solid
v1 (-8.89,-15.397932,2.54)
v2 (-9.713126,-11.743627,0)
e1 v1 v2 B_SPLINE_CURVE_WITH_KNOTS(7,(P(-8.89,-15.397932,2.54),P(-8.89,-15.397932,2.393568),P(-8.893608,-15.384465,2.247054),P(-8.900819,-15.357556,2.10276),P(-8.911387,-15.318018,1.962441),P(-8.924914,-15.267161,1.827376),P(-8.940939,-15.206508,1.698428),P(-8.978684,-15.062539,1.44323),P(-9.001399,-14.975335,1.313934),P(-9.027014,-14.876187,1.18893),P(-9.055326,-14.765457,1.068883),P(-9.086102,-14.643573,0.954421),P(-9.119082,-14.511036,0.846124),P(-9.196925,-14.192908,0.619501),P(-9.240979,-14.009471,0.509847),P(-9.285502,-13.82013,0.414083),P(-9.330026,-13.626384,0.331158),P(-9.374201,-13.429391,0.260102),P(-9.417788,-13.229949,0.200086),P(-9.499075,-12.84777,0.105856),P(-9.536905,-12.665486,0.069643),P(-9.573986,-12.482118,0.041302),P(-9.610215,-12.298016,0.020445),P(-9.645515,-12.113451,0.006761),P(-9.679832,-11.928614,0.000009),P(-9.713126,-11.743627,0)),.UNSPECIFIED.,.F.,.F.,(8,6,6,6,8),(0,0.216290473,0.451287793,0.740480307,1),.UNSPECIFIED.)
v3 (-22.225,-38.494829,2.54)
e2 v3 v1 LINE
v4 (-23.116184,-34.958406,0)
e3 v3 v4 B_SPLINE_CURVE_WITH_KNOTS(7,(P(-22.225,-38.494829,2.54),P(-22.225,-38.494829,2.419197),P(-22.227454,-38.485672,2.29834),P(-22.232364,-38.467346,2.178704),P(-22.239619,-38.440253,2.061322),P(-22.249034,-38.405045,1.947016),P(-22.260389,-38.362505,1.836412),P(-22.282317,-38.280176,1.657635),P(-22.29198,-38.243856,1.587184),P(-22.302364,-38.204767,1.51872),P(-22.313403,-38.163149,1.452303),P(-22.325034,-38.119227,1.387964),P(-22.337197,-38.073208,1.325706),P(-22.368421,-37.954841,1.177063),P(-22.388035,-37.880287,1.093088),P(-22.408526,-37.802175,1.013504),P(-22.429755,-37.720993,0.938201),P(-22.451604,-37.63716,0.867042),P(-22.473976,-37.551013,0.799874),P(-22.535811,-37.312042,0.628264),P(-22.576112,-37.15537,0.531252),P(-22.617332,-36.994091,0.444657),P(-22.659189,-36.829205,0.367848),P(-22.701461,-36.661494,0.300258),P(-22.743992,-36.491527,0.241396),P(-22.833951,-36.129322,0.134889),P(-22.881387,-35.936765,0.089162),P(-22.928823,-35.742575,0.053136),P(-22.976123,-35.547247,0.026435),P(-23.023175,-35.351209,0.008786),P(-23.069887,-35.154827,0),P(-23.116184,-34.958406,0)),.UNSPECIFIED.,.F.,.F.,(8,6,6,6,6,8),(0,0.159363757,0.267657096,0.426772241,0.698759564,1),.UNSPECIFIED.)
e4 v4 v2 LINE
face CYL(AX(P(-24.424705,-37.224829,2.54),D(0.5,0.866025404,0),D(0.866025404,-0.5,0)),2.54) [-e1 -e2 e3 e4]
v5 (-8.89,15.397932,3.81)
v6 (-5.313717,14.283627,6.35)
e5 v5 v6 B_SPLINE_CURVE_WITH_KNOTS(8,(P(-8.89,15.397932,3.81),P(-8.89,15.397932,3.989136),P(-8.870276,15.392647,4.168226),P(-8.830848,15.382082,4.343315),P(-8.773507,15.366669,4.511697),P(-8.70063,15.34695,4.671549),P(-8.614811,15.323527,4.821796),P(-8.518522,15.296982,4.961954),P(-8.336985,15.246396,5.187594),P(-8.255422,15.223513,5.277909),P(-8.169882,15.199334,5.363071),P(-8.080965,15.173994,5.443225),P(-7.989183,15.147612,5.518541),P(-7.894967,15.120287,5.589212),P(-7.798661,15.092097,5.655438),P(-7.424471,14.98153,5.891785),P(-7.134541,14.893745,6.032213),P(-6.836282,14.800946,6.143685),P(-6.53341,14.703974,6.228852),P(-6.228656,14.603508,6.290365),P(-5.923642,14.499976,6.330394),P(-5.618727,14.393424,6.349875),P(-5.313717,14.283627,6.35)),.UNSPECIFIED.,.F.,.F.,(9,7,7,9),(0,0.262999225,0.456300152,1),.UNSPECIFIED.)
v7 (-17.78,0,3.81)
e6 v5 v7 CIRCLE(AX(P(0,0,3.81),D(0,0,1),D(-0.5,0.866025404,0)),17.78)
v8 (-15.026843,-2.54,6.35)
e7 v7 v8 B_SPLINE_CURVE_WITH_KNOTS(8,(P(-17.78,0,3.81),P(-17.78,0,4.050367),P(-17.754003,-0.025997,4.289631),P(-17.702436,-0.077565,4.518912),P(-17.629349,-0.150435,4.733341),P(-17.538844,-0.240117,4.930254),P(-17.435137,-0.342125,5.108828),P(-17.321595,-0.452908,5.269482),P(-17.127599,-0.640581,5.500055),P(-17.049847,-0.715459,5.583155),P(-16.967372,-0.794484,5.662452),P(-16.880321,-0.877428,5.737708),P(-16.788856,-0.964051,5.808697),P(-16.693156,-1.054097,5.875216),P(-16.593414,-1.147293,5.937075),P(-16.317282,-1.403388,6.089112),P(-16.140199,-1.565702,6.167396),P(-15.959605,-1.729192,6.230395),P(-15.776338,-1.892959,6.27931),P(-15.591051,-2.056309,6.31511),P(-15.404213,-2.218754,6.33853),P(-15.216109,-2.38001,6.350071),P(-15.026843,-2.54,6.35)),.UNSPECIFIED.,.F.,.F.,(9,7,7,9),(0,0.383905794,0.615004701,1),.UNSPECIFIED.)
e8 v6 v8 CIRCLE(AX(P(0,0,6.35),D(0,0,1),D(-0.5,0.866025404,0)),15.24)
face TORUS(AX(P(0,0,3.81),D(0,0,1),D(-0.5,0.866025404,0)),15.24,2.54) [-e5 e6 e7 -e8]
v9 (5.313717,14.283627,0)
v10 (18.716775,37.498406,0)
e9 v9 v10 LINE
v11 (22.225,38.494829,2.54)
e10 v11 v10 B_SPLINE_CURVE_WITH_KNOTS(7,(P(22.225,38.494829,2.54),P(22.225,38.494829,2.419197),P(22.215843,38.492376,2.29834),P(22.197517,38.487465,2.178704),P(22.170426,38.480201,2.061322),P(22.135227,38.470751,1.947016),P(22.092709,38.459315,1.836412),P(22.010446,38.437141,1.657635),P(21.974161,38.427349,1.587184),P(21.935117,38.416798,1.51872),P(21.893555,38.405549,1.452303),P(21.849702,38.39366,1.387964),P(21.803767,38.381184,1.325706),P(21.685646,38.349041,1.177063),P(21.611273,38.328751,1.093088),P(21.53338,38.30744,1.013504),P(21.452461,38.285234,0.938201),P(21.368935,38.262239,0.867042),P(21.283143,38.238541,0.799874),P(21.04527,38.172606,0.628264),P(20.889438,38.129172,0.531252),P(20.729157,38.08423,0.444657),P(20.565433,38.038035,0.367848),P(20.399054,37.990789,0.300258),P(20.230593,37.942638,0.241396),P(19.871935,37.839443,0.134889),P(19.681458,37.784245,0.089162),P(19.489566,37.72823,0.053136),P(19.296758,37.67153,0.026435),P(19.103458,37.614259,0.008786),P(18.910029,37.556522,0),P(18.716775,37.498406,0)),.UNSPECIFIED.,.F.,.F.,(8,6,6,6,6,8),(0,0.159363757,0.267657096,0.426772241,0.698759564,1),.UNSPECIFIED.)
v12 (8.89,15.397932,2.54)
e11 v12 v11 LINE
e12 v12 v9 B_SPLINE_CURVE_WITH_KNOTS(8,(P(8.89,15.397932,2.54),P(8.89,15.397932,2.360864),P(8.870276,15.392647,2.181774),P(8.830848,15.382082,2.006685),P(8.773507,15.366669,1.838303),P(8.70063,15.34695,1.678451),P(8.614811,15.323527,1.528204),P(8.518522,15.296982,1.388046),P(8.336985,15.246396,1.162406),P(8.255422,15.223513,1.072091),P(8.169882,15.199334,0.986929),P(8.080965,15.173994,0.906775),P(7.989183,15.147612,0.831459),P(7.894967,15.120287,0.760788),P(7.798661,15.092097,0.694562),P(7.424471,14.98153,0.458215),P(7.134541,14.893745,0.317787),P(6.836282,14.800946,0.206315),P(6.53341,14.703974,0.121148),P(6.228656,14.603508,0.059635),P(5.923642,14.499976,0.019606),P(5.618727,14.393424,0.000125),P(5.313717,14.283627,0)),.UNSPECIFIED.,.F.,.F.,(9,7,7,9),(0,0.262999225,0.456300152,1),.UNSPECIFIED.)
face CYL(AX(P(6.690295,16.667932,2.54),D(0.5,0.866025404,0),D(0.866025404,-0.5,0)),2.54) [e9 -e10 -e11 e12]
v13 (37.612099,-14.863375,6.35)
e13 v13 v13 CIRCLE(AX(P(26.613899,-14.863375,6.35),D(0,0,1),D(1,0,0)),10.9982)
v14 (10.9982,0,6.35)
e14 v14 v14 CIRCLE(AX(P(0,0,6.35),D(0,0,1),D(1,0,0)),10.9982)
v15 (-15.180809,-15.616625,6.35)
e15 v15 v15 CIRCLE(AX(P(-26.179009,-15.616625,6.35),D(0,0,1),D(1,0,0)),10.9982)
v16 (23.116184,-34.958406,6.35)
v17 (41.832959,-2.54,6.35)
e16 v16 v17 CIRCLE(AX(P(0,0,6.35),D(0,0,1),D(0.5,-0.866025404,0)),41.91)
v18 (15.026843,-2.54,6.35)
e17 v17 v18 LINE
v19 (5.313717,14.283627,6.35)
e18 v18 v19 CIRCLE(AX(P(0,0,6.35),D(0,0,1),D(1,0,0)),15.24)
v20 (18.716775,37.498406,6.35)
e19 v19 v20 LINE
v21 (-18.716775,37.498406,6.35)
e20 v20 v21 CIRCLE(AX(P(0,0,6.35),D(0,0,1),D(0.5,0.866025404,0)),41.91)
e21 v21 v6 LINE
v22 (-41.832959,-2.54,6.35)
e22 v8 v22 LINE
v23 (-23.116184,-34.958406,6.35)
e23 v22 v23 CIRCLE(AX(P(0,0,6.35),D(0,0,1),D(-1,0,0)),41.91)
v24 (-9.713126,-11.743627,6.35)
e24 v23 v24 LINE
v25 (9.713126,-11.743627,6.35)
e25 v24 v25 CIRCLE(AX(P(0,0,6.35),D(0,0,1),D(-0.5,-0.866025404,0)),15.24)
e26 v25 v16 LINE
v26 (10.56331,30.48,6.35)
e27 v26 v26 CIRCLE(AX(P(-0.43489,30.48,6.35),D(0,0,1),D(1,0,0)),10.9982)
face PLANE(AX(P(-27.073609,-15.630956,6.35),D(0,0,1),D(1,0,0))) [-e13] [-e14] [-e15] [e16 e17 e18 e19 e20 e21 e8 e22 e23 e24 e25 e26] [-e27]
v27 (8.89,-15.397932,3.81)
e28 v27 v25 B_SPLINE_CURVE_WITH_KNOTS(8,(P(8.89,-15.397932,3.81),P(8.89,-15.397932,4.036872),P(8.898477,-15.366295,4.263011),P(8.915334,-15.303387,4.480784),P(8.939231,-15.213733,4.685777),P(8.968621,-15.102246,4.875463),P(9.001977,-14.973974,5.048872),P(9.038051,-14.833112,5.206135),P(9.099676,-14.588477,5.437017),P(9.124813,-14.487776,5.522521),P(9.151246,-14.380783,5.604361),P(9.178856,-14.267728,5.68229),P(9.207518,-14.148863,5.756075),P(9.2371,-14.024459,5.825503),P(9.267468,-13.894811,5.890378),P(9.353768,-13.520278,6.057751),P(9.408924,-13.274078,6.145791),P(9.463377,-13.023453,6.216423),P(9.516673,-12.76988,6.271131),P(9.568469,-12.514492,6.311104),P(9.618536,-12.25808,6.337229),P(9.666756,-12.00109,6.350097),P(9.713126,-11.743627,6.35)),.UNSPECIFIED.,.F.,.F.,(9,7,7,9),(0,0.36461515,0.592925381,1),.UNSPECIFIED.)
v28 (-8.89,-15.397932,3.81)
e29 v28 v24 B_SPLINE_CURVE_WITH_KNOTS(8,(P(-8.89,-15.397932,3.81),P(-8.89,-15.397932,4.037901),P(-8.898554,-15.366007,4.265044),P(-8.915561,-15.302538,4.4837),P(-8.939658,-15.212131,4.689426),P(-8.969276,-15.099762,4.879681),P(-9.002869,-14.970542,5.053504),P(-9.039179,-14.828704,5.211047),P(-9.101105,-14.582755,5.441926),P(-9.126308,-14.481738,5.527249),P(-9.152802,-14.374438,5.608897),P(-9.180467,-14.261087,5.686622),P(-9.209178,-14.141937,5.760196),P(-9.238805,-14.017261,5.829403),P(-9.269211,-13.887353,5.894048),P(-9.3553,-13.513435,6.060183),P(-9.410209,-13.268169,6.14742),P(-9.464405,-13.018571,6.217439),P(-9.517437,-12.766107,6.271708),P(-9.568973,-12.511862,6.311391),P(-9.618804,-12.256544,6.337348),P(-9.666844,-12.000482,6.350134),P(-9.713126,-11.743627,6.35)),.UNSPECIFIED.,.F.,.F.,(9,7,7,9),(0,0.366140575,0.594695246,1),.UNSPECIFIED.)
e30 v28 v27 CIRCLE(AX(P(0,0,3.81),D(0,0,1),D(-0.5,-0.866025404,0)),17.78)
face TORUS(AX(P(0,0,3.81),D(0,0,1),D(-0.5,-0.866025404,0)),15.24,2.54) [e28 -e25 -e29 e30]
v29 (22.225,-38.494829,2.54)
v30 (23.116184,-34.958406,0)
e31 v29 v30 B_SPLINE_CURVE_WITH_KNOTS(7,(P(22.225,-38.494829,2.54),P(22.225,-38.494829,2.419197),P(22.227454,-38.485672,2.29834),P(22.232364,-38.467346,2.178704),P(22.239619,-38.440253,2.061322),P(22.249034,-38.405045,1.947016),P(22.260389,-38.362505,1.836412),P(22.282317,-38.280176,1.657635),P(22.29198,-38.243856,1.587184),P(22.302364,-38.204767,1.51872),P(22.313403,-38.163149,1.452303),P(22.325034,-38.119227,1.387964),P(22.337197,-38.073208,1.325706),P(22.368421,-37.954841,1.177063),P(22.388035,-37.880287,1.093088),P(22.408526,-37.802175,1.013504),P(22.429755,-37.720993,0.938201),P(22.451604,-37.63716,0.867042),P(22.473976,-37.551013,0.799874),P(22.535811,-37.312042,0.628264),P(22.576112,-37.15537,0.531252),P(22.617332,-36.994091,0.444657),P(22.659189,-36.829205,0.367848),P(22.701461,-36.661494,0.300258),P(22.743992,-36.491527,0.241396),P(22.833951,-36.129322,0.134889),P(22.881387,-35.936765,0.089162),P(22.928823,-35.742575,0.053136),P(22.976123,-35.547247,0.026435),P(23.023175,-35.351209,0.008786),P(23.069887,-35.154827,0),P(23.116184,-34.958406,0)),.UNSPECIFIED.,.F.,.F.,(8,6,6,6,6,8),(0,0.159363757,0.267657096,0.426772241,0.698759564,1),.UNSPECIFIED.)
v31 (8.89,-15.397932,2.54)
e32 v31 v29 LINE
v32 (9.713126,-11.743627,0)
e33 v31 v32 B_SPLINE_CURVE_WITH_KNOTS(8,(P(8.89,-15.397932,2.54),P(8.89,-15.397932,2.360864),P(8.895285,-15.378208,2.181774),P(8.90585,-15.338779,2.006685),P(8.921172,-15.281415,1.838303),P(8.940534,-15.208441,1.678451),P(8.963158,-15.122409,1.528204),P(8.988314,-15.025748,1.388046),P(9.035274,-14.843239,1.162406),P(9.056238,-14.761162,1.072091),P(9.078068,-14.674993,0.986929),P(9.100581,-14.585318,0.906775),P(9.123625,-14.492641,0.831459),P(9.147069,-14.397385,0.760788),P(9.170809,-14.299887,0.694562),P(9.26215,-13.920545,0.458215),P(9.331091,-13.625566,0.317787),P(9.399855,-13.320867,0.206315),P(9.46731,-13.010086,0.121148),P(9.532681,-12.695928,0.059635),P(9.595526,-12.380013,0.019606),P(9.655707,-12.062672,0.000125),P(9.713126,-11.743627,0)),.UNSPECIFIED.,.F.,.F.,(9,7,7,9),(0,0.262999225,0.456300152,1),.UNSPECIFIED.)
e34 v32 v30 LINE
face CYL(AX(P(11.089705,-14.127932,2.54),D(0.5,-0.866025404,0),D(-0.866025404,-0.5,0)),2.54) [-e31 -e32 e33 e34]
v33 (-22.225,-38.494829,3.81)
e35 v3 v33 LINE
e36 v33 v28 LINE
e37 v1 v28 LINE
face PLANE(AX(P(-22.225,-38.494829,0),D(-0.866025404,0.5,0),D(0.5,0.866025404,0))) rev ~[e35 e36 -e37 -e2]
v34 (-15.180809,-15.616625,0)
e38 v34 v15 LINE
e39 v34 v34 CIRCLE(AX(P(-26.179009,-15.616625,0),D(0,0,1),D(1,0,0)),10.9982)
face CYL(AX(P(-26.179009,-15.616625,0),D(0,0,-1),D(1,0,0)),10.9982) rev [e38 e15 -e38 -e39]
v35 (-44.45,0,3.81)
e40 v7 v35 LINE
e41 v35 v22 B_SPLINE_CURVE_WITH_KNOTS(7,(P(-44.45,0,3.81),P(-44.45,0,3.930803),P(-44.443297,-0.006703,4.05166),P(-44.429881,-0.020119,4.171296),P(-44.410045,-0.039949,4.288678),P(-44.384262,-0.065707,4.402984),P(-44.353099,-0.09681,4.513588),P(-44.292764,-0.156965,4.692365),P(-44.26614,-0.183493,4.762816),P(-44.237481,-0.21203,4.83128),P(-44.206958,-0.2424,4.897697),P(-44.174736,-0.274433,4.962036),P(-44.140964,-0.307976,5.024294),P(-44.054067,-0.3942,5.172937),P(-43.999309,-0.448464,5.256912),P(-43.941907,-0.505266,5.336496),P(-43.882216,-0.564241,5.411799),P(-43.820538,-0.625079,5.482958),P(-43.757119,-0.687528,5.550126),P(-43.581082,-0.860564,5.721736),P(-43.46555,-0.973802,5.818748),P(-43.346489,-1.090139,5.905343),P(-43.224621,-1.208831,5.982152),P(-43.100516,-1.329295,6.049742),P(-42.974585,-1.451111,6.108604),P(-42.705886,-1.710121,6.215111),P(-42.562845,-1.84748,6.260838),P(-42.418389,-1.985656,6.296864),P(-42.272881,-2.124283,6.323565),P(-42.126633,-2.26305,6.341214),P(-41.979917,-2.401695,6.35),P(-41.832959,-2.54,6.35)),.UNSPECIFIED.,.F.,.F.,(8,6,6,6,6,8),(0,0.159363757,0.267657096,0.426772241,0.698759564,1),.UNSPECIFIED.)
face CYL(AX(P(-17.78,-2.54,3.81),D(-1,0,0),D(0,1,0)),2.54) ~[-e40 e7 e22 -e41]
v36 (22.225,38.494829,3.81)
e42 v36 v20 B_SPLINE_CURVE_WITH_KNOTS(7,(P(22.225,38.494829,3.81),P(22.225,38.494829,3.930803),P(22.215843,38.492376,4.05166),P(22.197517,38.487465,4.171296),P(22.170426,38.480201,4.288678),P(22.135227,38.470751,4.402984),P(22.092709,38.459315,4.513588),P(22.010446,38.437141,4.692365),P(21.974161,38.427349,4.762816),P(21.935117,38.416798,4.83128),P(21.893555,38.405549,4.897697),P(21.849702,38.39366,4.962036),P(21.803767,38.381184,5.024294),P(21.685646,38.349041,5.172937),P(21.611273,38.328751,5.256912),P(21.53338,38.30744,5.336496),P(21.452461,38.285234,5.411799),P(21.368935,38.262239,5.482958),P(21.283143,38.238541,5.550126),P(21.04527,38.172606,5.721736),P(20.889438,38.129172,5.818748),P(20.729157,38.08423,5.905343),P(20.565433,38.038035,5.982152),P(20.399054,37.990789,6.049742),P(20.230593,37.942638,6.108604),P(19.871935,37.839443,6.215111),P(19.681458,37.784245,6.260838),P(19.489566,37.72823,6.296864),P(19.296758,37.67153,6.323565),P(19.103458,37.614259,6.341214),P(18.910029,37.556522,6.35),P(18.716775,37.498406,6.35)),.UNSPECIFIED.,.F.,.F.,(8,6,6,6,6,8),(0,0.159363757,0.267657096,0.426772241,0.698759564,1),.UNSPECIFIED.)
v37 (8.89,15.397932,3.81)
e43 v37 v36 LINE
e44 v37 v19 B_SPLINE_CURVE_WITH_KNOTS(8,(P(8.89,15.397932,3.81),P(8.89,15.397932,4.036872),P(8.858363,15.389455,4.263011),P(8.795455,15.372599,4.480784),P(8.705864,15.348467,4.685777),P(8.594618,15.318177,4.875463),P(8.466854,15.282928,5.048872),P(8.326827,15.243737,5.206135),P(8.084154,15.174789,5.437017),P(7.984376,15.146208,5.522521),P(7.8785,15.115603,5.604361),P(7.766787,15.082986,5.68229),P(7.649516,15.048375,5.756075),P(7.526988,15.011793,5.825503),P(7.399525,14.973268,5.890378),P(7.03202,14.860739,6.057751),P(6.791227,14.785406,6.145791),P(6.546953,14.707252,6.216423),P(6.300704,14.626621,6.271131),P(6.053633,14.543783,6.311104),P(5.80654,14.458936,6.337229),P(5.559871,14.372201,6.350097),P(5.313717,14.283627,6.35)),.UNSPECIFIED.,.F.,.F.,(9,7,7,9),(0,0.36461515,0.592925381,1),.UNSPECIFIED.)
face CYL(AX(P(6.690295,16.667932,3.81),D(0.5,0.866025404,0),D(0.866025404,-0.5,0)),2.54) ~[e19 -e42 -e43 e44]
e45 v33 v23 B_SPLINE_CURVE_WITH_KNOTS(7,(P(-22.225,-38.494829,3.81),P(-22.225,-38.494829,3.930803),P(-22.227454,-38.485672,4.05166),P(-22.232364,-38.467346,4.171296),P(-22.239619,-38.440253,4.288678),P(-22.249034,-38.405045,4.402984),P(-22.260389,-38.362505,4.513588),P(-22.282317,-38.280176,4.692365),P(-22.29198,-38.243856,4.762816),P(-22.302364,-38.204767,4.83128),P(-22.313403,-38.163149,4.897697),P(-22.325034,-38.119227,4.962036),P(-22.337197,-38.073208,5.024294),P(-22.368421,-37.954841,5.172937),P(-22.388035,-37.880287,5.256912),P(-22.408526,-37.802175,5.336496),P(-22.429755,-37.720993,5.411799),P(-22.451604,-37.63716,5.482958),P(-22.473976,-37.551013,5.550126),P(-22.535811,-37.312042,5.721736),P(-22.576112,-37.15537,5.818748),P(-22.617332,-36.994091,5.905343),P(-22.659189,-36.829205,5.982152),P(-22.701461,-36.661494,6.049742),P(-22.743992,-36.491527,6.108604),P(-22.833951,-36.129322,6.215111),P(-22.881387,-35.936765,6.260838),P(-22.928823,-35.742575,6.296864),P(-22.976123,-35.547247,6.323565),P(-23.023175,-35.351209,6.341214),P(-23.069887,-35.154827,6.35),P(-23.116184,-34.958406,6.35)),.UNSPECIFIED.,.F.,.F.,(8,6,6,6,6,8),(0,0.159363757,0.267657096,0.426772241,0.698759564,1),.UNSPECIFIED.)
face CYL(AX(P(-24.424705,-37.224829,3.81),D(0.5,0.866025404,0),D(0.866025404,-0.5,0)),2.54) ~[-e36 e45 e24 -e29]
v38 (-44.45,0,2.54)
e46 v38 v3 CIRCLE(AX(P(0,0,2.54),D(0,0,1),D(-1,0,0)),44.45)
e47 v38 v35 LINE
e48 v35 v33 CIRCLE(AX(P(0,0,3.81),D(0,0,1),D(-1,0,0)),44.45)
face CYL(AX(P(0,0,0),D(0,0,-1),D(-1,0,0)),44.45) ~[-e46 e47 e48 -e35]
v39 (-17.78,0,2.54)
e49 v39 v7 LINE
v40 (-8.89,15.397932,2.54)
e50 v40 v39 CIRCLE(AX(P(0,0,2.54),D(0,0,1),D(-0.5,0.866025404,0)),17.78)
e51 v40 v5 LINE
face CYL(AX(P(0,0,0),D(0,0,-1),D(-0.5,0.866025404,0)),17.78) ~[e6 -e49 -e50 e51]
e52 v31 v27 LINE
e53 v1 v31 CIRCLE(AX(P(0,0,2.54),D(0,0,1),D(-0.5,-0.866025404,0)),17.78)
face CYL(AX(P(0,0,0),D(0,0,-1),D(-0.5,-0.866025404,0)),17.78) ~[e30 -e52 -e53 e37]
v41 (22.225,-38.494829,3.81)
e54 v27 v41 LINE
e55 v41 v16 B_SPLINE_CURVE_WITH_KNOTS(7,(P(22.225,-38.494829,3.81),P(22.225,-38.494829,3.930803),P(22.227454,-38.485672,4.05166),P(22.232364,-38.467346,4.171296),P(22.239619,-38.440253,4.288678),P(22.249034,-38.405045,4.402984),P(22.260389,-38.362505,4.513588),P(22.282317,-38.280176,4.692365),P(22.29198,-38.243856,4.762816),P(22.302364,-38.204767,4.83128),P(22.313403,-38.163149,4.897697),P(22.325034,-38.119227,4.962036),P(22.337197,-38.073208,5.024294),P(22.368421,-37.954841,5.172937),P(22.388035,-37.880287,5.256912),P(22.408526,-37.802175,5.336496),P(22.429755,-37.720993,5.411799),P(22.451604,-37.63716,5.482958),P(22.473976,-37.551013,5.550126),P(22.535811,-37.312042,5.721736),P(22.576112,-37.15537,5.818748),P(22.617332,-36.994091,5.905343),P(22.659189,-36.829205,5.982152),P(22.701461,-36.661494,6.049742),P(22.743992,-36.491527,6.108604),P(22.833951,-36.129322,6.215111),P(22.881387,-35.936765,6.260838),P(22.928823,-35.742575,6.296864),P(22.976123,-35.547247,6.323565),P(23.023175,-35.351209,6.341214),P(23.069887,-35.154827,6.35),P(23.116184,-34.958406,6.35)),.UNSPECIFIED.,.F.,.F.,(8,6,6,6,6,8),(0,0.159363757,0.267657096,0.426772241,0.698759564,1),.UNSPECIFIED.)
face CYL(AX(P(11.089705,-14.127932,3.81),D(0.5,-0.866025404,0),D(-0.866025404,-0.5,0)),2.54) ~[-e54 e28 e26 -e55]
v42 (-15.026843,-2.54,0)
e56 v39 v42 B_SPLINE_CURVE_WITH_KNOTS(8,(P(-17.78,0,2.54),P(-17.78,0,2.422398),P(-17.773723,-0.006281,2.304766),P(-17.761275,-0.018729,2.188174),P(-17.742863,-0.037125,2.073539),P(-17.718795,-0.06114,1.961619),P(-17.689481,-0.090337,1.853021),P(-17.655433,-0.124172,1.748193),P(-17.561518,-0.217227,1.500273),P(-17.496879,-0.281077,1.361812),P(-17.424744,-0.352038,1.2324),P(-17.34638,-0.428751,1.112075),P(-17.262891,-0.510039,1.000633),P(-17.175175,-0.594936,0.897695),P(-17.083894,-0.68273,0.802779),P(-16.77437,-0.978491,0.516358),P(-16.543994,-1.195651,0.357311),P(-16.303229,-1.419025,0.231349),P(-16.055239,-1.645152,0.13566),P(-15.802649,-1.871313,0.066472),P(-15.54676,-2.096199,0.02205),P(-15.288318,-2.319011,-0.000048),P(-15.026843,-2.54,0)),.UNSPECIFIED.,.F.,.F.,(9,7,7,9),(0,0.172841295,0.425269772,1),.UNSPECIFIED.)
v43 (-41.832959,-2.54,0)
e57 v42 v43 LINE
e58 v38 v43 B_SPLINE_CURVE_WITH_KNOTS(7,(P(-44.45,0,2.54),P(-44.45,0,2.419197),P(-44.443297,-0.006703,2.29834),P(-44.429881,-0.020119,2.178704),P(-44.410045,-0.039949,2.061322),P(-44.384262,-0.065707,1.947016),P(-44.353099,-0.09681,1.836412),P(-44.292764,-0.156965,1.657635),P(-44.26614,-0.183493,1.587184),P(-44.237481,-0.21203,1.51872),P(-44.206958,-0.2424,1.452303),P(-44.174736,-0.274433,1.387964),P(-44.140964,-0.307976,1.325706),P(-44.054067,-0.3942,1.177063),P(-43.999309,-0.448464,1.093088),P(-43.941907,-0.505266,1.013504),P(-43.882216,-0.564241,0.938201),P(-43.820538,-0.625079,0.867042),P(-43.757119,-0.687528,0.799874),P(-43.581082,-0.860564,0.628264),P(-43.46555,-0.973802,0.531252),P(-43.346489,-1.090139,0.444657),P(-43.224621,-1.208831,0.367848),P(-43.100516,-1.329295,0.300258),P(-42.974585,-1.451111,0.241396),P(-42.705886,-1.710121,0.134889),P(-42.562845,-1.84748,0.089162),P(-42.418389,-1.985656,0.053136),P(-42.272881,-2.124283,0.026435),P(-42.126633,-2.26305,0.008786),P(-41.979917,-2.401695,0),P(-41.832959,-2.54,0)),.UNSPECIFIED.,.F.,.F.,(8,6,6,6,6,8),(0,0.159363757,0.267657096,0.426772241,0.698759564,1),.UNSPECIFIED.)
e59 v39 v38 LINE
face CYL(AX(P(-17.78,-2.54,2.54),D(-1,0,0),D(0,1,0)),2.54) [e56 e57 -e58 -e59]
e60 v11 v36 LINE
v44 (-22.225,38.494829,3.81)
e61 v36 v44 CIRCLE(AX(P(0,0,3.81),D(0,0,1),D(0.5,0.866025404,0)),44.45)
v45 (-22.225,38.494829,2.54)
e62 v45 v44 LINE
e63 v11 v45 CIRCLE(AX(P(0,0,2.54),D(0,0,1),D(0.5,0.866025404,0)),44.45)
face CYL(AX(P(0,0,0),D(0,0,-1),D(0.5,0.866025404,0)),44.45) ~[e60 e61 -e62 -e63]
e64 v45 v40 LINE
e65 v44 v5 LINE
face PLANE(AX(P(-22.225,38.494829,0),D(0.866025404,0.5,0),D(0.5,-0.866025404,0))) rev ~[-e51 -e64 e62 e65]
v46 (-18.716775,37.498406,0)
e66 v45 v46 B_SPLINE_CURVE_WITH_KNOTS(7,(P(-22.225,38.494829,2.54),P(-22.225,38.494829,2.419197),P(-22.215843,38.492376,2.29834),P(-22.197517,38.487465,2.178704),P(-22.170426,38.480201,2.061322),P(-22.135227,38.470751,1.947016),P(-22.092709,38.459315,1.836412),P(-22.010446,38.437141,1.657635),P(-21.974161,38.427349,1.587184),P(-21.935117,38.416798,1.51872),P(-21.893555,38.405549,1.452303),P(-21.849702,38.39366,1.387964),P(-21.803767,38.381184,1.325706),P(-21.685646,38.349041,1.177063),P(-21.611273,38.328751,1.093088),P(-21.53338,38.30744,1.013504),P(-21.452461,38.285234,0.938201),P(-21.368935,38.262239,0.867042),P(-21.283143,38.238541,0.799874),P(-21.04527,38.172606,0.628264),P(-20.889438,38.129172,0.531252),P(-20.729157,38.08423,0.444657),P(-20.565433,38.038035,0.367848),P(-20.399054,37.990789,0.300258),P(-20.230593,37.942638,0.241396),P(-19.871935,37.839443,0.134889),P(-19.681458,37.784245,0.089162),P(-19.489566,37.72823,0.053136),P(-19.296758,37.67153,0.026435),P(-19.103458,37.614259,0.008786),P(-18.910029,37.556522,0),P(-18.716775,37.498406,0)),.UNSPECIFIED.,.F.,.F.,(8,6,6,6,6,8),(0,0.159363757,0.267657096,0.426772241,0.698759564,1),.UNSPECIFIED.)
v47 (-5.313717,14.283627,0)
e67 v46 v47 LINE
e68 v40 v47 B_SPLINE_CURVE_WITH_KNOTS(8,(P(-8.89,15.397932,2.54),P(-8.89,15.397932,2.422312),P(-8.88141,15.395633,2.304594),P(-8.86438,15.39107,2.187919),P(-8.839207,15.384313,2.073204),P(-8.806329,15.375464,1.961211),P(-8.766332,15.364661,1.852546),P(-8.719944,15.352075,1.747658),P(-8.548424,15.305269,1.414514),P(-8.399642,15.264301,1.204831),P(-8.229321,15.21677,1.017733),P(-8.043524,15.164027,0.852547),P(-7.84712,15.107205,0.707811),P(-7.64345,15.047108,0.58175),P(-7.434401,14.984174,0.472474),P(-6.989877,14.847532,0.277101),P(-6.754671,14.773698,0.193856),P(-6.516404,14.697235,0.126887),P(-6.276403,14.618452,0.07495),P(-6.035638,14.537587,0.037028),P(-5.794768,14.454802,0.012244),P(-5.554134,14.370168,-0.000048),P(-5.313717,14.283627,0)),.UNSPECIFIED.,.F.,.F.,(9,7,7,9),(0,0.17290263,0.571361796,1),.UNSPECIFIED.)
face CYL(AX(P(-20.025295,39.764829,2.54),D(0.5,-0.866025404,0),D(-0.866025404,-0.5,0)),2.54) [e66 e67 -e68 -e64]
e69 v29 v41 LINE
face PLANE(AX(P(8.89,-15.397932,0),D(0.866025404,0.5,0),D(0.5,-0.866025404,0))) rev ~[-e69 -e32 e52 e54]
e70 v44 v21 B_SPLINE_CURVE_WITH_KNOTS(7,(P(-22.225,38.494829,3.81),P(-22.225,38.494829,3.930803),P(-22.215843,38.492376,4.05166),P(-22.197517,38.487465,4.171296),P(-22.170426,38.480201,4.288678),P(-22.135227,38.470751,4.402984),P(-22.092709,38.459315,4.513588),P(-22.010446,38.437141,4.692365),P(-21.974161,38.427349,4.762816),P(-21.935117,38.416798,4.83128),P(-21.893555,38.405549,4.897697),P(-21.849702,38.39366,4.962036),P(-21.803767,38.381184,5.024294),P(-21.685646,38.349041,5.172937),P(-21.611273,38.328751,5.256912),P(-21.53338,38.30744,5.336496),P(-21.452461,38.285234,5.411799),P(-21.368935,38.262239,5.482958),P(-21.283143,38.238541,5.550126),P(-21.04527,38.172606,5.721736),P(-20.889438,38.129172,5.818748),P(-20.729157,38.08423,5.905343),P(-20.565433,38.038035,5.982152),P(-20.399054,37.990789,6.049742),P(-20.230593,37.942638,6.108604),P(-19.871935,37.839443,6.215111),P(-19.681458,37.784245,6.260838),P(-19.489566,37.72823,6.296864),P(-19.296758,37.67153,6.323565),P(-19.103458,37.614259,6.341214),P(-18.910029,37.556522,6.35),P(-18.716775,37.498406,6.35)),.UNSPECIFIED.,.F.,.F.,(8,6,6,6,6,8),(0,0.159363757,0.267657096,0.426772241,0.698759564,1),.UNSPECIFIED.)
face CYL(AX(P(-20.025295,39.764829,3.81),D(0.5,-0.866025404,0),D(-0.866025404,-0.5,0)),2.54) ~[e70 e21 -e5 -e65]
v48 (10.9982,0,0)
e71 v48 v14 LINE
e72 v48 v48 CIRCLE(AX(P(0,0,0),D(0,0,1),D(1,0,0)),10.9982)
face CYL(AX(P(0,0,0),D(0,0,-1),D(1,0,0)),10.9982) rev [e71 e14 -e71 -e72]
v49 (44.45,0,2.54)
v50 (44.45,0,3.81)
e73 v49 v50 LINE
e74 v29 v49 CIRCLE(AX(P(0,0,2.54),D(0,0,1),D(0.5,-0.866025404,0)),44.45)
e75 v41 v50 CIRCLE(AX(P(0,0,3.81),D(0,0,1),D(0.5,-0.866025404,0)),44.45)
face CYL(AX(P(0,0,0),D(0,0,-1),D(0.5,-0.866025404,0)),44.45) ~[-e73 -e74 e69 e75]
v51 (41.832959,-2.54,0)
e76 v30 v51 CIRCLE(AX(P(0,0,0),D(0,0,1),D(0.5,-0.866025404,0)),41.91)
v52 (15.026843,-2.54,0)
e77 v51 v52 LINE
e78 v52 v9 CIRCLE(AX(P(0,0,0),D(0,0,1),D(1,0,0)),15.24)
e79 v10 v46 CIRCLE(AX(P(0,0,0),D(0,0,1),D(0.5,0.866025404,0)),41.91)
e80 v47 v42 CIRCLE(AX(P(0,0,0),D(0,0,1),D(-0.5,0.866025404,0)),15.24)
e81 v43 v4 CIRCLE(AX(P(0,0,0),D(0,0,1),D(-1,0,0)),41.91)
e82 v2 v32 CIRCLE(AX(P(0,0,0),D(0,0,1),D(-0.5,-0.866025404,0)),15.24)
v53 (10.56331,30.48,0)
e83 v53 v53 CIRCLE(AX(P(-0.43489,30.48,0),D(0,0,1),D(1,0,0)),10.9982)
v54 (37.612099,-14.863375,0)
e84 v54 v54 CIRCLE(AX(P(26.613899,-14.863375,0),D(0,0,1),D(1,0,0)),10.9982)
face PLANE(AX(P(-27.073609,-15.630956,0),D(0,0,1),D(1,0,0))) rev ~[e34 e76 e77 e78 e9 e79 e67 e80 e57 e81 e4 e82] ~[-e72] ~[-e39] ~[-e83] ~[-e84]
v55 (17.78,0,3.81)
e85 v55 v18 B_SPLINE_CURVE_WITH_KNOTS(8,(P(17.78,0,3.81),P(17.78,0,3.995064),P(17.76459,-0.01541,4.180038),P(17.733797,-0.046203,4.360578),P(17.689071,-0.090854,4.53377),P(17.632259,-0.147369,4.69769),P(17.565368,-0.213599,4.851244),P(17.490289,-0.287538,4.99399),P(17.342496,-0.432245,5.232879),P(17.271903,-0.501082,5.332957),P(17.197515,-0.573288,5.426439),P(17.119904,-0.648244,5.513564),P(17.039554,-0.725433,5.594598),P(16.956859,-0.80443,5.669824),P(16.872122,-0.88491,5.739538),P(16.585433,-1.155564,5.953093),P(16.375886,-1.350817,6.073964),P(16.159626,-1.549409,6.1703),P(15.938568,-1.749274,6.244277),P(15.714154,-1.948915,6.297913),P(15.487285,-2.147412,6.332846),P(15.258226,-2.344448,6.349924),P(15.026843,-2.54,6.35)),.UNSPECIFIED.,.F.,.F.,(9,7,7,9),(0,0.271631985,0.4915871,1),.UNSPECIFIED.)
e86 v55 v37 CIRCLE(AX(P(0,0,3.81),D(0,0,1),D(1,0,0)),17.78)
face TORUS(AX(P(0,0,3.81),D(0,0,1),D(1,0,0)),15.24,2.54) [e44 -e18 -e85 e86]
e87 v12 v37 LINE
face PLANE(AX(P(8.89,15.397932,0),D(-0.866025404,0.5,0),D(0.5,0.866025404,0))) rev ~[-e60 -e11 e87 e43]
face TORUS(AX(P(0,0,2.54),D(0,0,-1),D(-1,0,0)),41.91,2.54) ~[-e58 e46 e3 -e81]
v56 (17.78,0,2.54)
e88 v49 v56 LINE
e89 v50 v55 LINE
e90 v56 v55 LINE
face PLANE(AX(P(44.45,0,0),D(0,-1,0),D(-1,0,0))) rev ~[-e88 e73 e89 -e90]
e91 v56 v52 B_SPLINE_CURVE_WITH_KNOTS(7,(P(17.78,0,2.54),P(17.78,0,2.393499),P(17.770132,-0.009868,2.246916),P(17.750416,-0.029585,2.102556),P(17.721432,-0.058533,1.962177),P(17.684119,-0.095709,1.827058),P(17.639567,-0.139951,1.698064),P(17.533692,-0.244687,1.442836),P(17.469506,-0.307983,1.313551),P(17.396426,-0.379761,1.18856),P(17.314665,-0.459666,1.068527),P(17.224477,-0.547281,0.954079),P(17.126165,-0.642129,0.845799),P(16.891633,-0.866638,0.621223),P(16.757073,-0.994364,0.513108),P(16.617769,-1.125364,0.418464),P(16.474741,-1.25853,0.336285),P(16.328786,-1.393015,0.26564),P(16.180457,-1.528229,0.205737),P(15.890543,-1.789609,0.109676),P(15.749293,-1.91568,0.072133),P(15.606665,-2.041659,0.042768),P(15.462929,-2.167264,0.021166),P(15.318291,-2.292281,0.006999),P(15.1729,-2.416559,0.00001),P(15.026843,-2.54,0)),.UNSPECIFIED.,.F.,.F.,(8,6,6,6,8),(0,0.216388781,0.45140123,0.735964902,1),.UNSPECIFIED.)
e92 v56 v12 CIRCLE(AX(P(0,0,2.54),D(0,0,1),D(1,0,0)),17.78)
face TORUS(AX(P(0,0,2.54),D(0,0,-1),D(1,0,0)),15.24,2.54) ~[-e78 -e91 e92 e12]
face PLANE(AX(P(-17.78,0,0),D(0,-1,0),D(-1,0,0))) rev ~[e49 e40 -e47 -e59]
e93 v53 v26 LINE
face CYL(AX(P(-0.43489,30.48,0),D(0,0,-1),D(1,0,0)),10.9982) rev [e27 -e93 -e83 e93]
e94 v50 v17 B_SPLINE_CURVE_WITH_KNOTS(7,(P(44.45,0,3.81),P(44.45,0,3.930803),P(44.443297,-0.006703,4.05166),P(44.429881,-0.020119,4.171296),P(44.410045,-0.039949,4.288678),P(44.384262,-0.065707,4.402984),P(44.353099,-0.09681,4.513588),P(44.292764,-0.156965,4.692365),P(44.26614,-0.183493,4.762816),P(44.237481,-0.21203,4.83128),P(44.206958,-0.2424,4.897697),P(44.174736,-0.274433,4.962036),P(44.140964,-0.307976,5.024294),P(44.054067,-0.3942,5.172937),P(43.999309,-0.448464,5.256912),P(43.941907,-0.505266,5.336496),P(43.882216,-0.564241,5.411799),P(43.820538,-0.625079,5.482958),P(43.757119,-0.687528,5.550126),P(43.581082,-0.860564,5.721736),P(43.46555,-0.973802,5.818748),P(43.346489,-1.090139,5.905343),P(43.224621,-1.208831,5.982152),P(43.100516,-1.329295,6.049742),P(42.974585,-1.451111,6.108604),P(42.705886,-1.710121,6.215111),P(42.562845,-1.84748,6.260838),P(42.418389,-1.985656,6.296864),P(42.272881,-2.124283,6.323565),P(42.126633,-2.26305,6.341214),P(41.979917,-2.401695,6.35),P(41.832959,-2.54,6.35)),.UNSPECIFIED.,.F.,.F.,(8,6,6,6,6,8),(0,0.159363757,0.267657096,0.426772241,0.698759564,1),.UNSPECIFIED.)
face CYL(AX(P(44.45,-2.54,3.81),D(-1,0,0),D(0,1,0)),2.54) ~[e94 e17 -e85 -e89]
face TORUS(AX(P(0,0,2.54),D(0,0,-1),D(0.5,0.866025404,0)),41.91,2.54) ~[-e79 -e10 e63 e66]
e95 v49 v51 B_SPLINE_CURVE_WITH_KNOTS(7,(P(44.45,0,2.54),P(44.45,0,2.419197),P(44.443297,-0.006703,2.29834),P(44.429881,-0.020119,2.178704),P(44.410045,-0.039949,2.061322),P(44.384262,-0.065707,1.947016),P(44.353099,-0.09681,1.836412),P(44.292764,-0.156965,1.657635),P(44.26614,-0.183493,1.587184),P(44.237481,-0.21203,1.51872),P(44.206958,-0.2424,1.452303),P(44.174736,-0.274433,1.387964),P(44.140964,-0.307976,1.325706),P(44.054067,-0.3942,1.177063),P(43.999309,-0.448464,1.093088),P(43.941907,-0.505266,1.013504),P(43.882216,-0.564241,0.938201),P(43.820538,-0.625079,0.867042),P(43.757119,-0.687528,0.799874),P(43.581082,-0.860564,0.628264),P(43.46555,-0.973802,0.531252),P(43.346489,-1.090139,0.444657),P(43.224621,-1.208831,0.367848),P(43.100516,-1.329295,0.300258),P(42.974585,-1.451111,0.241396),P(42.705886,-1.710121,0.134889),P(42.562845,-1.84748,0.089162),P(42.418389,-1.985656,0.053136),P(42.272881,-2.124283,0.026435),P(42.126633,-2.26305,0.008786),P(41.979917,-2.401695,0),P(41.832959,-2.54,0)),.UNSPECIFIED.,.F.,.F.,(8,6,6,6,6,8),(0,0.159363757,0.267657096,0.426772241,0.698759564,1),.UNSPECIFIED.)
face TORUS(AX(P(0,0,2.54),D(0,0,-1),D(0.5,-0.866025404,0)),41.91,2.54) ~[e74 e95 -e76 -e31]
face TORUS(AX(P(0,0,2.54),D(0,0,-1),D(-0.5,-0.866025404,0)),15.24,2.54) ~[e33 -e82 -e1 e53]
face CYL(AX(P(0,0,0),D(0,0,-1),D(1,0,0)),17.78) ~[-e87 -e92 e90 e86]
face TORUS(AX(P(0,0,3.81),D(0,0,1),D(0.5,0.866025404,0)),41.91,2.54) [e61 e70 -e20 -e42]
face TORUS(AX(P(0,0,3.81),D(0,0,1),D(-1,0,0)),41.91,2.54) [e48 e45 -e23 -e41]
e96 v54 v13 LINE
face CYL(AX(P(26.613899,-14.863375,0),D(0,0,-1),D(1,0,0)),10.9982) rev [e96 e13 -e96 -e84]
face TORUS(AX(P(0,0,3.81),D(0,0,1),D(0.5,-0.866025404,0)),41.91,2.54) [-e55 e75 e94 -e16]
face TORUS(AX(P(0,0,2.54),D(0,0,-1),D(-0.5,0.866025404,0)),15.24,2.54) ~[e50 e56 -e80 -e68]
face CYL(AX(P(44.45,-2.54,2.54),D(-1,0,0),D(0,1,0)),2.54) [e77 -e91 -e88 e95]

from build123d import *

# Parameters (mm, degrees)
F0_R     = 10.9982
F1_DEPTH = 6.35
F2_R     = 2.54


with BuildPart() as f1:
    # F0 (on Top) → F1 (new body)
    with BuildSketch(Plane.XY):
        with BuildLine():
            ThreePointArc((-44.45, 0), (-38.4948291982, -22.225), (-22.225, -38.4948291982))
            Line((-22.225, -38.4948291982), (-8.89, -15.3979316793))
            ThreePointArc((-8.89, -15.3979316793), (-15.3979316793, -8.89), (-17.78, 0))
            Line((-17.78, 0), (-44.45, 0))
        make_face()
        with Locations((-26.1790094785, -15.6166254914)):
            Circle(F0_R, mode=Mode.SUBTRACT)
        with BuildLine():
            Line((8.89, 15.3979316793), (22.225, 38.4948291982))
            ThreePointArc((22.225, 38.4948291982), (0, 44.45), (-22.225, 38.4948291982))
            Line((-22.225, 38.4948291982), (-8.89, 15.3979316793))
            ThreePointArc((-8.89, 15.3979316793), (0, 17.78), (8.89, 15.3979316793))
        make_face()
        with Locations((-0.4348896577, 30.48)):
            Circle(F0_R, mode=Mode.SUBTRACT)
        with BuildLine():
            ThreePointArc((22.225, -38.4948291982), (38.4948291982, -22.225), (44.45, 0))
            Line((44.45, 0), (17.78, 0))
            ThreePointArc((17.78, 0), (15.3979316793, -8.89), (8.89, -15.3979316793))
            Line((8.89, -15.3979316793), (22.225, -38.4948291982))
        make_face()
        with Locations((26.6138991362, -14.8633745086)):
            Circle(F0_R, mode=Mode.SUBTRACT)
        with BuildLine():
            ThreePointArc((8.89, -15.3979316793), (15.3979316793, -8.89), (17.78, 0))
            ThreePointArc((17.78, 0), (15.3979316793, 8.89), (8.89, 15.3979316793))
            ThreePointArc((8.89, 15.3979316793), (0, 17.78), (-8.89, 15.3979316793))
            ThreePointArc((-8.89, 15.3979316793), (-15.3979316793, 8.89), (-17.78, 0))
            ThreePointArc((-17.78, 0), (-15.3979316793, -8.89), (-8.89, -15.3979316793))
            ThreePointArc((-8.89, -15.3979316793), (0, -17.78), (8.89, -15.3979316793))
        make_face()
        Circle(F0_R, mode=Mode.SUBTRACT)
    extrude(amount=F1_DEPTH)

    # F2
    f2_edges = [f1.edges().sort_by_distance(p)[0] for p in [
        (-38.494829, -22.225, 6.35),
        (-15.5575, -26.94638, 6.35),
        (0, -17.78, 6.35),
        (15.5575, -26.94638, 6.35),
        (38.494829, -22.225, 6.35),
        (31.115, 0, 6.35),
        (15.397932, 8.89, 6.35),
        (15.5575, 26.94638, 6.35),
        (0, 44.45, 6.35),
        (-15.5575, 26.94638, 6.35),
        (-15.397932, 8.89, 6.35),
        (-31.115, 0, 6.35),
        (-15.5575, 26.94638, 0),
        (0, 44.45, 0),
        (15.5575, 26.94638, 0),
        (38.494829, -22.225, 0),
        (31.115, 0, 0),
        (15.5575, -26.94638, 0),
        (-15.397932, 8.89, 0),
        (15.397932, 8.89, 0),
        (-31.115, 0, 0),
        (-38.494829, -22.225, 0),
        (-15.5575, -26.94638, 0),
        (0, -17.78, 0),
    ]]
    fillet(f2_edges, radius=F2_R)


solid = f1.part
